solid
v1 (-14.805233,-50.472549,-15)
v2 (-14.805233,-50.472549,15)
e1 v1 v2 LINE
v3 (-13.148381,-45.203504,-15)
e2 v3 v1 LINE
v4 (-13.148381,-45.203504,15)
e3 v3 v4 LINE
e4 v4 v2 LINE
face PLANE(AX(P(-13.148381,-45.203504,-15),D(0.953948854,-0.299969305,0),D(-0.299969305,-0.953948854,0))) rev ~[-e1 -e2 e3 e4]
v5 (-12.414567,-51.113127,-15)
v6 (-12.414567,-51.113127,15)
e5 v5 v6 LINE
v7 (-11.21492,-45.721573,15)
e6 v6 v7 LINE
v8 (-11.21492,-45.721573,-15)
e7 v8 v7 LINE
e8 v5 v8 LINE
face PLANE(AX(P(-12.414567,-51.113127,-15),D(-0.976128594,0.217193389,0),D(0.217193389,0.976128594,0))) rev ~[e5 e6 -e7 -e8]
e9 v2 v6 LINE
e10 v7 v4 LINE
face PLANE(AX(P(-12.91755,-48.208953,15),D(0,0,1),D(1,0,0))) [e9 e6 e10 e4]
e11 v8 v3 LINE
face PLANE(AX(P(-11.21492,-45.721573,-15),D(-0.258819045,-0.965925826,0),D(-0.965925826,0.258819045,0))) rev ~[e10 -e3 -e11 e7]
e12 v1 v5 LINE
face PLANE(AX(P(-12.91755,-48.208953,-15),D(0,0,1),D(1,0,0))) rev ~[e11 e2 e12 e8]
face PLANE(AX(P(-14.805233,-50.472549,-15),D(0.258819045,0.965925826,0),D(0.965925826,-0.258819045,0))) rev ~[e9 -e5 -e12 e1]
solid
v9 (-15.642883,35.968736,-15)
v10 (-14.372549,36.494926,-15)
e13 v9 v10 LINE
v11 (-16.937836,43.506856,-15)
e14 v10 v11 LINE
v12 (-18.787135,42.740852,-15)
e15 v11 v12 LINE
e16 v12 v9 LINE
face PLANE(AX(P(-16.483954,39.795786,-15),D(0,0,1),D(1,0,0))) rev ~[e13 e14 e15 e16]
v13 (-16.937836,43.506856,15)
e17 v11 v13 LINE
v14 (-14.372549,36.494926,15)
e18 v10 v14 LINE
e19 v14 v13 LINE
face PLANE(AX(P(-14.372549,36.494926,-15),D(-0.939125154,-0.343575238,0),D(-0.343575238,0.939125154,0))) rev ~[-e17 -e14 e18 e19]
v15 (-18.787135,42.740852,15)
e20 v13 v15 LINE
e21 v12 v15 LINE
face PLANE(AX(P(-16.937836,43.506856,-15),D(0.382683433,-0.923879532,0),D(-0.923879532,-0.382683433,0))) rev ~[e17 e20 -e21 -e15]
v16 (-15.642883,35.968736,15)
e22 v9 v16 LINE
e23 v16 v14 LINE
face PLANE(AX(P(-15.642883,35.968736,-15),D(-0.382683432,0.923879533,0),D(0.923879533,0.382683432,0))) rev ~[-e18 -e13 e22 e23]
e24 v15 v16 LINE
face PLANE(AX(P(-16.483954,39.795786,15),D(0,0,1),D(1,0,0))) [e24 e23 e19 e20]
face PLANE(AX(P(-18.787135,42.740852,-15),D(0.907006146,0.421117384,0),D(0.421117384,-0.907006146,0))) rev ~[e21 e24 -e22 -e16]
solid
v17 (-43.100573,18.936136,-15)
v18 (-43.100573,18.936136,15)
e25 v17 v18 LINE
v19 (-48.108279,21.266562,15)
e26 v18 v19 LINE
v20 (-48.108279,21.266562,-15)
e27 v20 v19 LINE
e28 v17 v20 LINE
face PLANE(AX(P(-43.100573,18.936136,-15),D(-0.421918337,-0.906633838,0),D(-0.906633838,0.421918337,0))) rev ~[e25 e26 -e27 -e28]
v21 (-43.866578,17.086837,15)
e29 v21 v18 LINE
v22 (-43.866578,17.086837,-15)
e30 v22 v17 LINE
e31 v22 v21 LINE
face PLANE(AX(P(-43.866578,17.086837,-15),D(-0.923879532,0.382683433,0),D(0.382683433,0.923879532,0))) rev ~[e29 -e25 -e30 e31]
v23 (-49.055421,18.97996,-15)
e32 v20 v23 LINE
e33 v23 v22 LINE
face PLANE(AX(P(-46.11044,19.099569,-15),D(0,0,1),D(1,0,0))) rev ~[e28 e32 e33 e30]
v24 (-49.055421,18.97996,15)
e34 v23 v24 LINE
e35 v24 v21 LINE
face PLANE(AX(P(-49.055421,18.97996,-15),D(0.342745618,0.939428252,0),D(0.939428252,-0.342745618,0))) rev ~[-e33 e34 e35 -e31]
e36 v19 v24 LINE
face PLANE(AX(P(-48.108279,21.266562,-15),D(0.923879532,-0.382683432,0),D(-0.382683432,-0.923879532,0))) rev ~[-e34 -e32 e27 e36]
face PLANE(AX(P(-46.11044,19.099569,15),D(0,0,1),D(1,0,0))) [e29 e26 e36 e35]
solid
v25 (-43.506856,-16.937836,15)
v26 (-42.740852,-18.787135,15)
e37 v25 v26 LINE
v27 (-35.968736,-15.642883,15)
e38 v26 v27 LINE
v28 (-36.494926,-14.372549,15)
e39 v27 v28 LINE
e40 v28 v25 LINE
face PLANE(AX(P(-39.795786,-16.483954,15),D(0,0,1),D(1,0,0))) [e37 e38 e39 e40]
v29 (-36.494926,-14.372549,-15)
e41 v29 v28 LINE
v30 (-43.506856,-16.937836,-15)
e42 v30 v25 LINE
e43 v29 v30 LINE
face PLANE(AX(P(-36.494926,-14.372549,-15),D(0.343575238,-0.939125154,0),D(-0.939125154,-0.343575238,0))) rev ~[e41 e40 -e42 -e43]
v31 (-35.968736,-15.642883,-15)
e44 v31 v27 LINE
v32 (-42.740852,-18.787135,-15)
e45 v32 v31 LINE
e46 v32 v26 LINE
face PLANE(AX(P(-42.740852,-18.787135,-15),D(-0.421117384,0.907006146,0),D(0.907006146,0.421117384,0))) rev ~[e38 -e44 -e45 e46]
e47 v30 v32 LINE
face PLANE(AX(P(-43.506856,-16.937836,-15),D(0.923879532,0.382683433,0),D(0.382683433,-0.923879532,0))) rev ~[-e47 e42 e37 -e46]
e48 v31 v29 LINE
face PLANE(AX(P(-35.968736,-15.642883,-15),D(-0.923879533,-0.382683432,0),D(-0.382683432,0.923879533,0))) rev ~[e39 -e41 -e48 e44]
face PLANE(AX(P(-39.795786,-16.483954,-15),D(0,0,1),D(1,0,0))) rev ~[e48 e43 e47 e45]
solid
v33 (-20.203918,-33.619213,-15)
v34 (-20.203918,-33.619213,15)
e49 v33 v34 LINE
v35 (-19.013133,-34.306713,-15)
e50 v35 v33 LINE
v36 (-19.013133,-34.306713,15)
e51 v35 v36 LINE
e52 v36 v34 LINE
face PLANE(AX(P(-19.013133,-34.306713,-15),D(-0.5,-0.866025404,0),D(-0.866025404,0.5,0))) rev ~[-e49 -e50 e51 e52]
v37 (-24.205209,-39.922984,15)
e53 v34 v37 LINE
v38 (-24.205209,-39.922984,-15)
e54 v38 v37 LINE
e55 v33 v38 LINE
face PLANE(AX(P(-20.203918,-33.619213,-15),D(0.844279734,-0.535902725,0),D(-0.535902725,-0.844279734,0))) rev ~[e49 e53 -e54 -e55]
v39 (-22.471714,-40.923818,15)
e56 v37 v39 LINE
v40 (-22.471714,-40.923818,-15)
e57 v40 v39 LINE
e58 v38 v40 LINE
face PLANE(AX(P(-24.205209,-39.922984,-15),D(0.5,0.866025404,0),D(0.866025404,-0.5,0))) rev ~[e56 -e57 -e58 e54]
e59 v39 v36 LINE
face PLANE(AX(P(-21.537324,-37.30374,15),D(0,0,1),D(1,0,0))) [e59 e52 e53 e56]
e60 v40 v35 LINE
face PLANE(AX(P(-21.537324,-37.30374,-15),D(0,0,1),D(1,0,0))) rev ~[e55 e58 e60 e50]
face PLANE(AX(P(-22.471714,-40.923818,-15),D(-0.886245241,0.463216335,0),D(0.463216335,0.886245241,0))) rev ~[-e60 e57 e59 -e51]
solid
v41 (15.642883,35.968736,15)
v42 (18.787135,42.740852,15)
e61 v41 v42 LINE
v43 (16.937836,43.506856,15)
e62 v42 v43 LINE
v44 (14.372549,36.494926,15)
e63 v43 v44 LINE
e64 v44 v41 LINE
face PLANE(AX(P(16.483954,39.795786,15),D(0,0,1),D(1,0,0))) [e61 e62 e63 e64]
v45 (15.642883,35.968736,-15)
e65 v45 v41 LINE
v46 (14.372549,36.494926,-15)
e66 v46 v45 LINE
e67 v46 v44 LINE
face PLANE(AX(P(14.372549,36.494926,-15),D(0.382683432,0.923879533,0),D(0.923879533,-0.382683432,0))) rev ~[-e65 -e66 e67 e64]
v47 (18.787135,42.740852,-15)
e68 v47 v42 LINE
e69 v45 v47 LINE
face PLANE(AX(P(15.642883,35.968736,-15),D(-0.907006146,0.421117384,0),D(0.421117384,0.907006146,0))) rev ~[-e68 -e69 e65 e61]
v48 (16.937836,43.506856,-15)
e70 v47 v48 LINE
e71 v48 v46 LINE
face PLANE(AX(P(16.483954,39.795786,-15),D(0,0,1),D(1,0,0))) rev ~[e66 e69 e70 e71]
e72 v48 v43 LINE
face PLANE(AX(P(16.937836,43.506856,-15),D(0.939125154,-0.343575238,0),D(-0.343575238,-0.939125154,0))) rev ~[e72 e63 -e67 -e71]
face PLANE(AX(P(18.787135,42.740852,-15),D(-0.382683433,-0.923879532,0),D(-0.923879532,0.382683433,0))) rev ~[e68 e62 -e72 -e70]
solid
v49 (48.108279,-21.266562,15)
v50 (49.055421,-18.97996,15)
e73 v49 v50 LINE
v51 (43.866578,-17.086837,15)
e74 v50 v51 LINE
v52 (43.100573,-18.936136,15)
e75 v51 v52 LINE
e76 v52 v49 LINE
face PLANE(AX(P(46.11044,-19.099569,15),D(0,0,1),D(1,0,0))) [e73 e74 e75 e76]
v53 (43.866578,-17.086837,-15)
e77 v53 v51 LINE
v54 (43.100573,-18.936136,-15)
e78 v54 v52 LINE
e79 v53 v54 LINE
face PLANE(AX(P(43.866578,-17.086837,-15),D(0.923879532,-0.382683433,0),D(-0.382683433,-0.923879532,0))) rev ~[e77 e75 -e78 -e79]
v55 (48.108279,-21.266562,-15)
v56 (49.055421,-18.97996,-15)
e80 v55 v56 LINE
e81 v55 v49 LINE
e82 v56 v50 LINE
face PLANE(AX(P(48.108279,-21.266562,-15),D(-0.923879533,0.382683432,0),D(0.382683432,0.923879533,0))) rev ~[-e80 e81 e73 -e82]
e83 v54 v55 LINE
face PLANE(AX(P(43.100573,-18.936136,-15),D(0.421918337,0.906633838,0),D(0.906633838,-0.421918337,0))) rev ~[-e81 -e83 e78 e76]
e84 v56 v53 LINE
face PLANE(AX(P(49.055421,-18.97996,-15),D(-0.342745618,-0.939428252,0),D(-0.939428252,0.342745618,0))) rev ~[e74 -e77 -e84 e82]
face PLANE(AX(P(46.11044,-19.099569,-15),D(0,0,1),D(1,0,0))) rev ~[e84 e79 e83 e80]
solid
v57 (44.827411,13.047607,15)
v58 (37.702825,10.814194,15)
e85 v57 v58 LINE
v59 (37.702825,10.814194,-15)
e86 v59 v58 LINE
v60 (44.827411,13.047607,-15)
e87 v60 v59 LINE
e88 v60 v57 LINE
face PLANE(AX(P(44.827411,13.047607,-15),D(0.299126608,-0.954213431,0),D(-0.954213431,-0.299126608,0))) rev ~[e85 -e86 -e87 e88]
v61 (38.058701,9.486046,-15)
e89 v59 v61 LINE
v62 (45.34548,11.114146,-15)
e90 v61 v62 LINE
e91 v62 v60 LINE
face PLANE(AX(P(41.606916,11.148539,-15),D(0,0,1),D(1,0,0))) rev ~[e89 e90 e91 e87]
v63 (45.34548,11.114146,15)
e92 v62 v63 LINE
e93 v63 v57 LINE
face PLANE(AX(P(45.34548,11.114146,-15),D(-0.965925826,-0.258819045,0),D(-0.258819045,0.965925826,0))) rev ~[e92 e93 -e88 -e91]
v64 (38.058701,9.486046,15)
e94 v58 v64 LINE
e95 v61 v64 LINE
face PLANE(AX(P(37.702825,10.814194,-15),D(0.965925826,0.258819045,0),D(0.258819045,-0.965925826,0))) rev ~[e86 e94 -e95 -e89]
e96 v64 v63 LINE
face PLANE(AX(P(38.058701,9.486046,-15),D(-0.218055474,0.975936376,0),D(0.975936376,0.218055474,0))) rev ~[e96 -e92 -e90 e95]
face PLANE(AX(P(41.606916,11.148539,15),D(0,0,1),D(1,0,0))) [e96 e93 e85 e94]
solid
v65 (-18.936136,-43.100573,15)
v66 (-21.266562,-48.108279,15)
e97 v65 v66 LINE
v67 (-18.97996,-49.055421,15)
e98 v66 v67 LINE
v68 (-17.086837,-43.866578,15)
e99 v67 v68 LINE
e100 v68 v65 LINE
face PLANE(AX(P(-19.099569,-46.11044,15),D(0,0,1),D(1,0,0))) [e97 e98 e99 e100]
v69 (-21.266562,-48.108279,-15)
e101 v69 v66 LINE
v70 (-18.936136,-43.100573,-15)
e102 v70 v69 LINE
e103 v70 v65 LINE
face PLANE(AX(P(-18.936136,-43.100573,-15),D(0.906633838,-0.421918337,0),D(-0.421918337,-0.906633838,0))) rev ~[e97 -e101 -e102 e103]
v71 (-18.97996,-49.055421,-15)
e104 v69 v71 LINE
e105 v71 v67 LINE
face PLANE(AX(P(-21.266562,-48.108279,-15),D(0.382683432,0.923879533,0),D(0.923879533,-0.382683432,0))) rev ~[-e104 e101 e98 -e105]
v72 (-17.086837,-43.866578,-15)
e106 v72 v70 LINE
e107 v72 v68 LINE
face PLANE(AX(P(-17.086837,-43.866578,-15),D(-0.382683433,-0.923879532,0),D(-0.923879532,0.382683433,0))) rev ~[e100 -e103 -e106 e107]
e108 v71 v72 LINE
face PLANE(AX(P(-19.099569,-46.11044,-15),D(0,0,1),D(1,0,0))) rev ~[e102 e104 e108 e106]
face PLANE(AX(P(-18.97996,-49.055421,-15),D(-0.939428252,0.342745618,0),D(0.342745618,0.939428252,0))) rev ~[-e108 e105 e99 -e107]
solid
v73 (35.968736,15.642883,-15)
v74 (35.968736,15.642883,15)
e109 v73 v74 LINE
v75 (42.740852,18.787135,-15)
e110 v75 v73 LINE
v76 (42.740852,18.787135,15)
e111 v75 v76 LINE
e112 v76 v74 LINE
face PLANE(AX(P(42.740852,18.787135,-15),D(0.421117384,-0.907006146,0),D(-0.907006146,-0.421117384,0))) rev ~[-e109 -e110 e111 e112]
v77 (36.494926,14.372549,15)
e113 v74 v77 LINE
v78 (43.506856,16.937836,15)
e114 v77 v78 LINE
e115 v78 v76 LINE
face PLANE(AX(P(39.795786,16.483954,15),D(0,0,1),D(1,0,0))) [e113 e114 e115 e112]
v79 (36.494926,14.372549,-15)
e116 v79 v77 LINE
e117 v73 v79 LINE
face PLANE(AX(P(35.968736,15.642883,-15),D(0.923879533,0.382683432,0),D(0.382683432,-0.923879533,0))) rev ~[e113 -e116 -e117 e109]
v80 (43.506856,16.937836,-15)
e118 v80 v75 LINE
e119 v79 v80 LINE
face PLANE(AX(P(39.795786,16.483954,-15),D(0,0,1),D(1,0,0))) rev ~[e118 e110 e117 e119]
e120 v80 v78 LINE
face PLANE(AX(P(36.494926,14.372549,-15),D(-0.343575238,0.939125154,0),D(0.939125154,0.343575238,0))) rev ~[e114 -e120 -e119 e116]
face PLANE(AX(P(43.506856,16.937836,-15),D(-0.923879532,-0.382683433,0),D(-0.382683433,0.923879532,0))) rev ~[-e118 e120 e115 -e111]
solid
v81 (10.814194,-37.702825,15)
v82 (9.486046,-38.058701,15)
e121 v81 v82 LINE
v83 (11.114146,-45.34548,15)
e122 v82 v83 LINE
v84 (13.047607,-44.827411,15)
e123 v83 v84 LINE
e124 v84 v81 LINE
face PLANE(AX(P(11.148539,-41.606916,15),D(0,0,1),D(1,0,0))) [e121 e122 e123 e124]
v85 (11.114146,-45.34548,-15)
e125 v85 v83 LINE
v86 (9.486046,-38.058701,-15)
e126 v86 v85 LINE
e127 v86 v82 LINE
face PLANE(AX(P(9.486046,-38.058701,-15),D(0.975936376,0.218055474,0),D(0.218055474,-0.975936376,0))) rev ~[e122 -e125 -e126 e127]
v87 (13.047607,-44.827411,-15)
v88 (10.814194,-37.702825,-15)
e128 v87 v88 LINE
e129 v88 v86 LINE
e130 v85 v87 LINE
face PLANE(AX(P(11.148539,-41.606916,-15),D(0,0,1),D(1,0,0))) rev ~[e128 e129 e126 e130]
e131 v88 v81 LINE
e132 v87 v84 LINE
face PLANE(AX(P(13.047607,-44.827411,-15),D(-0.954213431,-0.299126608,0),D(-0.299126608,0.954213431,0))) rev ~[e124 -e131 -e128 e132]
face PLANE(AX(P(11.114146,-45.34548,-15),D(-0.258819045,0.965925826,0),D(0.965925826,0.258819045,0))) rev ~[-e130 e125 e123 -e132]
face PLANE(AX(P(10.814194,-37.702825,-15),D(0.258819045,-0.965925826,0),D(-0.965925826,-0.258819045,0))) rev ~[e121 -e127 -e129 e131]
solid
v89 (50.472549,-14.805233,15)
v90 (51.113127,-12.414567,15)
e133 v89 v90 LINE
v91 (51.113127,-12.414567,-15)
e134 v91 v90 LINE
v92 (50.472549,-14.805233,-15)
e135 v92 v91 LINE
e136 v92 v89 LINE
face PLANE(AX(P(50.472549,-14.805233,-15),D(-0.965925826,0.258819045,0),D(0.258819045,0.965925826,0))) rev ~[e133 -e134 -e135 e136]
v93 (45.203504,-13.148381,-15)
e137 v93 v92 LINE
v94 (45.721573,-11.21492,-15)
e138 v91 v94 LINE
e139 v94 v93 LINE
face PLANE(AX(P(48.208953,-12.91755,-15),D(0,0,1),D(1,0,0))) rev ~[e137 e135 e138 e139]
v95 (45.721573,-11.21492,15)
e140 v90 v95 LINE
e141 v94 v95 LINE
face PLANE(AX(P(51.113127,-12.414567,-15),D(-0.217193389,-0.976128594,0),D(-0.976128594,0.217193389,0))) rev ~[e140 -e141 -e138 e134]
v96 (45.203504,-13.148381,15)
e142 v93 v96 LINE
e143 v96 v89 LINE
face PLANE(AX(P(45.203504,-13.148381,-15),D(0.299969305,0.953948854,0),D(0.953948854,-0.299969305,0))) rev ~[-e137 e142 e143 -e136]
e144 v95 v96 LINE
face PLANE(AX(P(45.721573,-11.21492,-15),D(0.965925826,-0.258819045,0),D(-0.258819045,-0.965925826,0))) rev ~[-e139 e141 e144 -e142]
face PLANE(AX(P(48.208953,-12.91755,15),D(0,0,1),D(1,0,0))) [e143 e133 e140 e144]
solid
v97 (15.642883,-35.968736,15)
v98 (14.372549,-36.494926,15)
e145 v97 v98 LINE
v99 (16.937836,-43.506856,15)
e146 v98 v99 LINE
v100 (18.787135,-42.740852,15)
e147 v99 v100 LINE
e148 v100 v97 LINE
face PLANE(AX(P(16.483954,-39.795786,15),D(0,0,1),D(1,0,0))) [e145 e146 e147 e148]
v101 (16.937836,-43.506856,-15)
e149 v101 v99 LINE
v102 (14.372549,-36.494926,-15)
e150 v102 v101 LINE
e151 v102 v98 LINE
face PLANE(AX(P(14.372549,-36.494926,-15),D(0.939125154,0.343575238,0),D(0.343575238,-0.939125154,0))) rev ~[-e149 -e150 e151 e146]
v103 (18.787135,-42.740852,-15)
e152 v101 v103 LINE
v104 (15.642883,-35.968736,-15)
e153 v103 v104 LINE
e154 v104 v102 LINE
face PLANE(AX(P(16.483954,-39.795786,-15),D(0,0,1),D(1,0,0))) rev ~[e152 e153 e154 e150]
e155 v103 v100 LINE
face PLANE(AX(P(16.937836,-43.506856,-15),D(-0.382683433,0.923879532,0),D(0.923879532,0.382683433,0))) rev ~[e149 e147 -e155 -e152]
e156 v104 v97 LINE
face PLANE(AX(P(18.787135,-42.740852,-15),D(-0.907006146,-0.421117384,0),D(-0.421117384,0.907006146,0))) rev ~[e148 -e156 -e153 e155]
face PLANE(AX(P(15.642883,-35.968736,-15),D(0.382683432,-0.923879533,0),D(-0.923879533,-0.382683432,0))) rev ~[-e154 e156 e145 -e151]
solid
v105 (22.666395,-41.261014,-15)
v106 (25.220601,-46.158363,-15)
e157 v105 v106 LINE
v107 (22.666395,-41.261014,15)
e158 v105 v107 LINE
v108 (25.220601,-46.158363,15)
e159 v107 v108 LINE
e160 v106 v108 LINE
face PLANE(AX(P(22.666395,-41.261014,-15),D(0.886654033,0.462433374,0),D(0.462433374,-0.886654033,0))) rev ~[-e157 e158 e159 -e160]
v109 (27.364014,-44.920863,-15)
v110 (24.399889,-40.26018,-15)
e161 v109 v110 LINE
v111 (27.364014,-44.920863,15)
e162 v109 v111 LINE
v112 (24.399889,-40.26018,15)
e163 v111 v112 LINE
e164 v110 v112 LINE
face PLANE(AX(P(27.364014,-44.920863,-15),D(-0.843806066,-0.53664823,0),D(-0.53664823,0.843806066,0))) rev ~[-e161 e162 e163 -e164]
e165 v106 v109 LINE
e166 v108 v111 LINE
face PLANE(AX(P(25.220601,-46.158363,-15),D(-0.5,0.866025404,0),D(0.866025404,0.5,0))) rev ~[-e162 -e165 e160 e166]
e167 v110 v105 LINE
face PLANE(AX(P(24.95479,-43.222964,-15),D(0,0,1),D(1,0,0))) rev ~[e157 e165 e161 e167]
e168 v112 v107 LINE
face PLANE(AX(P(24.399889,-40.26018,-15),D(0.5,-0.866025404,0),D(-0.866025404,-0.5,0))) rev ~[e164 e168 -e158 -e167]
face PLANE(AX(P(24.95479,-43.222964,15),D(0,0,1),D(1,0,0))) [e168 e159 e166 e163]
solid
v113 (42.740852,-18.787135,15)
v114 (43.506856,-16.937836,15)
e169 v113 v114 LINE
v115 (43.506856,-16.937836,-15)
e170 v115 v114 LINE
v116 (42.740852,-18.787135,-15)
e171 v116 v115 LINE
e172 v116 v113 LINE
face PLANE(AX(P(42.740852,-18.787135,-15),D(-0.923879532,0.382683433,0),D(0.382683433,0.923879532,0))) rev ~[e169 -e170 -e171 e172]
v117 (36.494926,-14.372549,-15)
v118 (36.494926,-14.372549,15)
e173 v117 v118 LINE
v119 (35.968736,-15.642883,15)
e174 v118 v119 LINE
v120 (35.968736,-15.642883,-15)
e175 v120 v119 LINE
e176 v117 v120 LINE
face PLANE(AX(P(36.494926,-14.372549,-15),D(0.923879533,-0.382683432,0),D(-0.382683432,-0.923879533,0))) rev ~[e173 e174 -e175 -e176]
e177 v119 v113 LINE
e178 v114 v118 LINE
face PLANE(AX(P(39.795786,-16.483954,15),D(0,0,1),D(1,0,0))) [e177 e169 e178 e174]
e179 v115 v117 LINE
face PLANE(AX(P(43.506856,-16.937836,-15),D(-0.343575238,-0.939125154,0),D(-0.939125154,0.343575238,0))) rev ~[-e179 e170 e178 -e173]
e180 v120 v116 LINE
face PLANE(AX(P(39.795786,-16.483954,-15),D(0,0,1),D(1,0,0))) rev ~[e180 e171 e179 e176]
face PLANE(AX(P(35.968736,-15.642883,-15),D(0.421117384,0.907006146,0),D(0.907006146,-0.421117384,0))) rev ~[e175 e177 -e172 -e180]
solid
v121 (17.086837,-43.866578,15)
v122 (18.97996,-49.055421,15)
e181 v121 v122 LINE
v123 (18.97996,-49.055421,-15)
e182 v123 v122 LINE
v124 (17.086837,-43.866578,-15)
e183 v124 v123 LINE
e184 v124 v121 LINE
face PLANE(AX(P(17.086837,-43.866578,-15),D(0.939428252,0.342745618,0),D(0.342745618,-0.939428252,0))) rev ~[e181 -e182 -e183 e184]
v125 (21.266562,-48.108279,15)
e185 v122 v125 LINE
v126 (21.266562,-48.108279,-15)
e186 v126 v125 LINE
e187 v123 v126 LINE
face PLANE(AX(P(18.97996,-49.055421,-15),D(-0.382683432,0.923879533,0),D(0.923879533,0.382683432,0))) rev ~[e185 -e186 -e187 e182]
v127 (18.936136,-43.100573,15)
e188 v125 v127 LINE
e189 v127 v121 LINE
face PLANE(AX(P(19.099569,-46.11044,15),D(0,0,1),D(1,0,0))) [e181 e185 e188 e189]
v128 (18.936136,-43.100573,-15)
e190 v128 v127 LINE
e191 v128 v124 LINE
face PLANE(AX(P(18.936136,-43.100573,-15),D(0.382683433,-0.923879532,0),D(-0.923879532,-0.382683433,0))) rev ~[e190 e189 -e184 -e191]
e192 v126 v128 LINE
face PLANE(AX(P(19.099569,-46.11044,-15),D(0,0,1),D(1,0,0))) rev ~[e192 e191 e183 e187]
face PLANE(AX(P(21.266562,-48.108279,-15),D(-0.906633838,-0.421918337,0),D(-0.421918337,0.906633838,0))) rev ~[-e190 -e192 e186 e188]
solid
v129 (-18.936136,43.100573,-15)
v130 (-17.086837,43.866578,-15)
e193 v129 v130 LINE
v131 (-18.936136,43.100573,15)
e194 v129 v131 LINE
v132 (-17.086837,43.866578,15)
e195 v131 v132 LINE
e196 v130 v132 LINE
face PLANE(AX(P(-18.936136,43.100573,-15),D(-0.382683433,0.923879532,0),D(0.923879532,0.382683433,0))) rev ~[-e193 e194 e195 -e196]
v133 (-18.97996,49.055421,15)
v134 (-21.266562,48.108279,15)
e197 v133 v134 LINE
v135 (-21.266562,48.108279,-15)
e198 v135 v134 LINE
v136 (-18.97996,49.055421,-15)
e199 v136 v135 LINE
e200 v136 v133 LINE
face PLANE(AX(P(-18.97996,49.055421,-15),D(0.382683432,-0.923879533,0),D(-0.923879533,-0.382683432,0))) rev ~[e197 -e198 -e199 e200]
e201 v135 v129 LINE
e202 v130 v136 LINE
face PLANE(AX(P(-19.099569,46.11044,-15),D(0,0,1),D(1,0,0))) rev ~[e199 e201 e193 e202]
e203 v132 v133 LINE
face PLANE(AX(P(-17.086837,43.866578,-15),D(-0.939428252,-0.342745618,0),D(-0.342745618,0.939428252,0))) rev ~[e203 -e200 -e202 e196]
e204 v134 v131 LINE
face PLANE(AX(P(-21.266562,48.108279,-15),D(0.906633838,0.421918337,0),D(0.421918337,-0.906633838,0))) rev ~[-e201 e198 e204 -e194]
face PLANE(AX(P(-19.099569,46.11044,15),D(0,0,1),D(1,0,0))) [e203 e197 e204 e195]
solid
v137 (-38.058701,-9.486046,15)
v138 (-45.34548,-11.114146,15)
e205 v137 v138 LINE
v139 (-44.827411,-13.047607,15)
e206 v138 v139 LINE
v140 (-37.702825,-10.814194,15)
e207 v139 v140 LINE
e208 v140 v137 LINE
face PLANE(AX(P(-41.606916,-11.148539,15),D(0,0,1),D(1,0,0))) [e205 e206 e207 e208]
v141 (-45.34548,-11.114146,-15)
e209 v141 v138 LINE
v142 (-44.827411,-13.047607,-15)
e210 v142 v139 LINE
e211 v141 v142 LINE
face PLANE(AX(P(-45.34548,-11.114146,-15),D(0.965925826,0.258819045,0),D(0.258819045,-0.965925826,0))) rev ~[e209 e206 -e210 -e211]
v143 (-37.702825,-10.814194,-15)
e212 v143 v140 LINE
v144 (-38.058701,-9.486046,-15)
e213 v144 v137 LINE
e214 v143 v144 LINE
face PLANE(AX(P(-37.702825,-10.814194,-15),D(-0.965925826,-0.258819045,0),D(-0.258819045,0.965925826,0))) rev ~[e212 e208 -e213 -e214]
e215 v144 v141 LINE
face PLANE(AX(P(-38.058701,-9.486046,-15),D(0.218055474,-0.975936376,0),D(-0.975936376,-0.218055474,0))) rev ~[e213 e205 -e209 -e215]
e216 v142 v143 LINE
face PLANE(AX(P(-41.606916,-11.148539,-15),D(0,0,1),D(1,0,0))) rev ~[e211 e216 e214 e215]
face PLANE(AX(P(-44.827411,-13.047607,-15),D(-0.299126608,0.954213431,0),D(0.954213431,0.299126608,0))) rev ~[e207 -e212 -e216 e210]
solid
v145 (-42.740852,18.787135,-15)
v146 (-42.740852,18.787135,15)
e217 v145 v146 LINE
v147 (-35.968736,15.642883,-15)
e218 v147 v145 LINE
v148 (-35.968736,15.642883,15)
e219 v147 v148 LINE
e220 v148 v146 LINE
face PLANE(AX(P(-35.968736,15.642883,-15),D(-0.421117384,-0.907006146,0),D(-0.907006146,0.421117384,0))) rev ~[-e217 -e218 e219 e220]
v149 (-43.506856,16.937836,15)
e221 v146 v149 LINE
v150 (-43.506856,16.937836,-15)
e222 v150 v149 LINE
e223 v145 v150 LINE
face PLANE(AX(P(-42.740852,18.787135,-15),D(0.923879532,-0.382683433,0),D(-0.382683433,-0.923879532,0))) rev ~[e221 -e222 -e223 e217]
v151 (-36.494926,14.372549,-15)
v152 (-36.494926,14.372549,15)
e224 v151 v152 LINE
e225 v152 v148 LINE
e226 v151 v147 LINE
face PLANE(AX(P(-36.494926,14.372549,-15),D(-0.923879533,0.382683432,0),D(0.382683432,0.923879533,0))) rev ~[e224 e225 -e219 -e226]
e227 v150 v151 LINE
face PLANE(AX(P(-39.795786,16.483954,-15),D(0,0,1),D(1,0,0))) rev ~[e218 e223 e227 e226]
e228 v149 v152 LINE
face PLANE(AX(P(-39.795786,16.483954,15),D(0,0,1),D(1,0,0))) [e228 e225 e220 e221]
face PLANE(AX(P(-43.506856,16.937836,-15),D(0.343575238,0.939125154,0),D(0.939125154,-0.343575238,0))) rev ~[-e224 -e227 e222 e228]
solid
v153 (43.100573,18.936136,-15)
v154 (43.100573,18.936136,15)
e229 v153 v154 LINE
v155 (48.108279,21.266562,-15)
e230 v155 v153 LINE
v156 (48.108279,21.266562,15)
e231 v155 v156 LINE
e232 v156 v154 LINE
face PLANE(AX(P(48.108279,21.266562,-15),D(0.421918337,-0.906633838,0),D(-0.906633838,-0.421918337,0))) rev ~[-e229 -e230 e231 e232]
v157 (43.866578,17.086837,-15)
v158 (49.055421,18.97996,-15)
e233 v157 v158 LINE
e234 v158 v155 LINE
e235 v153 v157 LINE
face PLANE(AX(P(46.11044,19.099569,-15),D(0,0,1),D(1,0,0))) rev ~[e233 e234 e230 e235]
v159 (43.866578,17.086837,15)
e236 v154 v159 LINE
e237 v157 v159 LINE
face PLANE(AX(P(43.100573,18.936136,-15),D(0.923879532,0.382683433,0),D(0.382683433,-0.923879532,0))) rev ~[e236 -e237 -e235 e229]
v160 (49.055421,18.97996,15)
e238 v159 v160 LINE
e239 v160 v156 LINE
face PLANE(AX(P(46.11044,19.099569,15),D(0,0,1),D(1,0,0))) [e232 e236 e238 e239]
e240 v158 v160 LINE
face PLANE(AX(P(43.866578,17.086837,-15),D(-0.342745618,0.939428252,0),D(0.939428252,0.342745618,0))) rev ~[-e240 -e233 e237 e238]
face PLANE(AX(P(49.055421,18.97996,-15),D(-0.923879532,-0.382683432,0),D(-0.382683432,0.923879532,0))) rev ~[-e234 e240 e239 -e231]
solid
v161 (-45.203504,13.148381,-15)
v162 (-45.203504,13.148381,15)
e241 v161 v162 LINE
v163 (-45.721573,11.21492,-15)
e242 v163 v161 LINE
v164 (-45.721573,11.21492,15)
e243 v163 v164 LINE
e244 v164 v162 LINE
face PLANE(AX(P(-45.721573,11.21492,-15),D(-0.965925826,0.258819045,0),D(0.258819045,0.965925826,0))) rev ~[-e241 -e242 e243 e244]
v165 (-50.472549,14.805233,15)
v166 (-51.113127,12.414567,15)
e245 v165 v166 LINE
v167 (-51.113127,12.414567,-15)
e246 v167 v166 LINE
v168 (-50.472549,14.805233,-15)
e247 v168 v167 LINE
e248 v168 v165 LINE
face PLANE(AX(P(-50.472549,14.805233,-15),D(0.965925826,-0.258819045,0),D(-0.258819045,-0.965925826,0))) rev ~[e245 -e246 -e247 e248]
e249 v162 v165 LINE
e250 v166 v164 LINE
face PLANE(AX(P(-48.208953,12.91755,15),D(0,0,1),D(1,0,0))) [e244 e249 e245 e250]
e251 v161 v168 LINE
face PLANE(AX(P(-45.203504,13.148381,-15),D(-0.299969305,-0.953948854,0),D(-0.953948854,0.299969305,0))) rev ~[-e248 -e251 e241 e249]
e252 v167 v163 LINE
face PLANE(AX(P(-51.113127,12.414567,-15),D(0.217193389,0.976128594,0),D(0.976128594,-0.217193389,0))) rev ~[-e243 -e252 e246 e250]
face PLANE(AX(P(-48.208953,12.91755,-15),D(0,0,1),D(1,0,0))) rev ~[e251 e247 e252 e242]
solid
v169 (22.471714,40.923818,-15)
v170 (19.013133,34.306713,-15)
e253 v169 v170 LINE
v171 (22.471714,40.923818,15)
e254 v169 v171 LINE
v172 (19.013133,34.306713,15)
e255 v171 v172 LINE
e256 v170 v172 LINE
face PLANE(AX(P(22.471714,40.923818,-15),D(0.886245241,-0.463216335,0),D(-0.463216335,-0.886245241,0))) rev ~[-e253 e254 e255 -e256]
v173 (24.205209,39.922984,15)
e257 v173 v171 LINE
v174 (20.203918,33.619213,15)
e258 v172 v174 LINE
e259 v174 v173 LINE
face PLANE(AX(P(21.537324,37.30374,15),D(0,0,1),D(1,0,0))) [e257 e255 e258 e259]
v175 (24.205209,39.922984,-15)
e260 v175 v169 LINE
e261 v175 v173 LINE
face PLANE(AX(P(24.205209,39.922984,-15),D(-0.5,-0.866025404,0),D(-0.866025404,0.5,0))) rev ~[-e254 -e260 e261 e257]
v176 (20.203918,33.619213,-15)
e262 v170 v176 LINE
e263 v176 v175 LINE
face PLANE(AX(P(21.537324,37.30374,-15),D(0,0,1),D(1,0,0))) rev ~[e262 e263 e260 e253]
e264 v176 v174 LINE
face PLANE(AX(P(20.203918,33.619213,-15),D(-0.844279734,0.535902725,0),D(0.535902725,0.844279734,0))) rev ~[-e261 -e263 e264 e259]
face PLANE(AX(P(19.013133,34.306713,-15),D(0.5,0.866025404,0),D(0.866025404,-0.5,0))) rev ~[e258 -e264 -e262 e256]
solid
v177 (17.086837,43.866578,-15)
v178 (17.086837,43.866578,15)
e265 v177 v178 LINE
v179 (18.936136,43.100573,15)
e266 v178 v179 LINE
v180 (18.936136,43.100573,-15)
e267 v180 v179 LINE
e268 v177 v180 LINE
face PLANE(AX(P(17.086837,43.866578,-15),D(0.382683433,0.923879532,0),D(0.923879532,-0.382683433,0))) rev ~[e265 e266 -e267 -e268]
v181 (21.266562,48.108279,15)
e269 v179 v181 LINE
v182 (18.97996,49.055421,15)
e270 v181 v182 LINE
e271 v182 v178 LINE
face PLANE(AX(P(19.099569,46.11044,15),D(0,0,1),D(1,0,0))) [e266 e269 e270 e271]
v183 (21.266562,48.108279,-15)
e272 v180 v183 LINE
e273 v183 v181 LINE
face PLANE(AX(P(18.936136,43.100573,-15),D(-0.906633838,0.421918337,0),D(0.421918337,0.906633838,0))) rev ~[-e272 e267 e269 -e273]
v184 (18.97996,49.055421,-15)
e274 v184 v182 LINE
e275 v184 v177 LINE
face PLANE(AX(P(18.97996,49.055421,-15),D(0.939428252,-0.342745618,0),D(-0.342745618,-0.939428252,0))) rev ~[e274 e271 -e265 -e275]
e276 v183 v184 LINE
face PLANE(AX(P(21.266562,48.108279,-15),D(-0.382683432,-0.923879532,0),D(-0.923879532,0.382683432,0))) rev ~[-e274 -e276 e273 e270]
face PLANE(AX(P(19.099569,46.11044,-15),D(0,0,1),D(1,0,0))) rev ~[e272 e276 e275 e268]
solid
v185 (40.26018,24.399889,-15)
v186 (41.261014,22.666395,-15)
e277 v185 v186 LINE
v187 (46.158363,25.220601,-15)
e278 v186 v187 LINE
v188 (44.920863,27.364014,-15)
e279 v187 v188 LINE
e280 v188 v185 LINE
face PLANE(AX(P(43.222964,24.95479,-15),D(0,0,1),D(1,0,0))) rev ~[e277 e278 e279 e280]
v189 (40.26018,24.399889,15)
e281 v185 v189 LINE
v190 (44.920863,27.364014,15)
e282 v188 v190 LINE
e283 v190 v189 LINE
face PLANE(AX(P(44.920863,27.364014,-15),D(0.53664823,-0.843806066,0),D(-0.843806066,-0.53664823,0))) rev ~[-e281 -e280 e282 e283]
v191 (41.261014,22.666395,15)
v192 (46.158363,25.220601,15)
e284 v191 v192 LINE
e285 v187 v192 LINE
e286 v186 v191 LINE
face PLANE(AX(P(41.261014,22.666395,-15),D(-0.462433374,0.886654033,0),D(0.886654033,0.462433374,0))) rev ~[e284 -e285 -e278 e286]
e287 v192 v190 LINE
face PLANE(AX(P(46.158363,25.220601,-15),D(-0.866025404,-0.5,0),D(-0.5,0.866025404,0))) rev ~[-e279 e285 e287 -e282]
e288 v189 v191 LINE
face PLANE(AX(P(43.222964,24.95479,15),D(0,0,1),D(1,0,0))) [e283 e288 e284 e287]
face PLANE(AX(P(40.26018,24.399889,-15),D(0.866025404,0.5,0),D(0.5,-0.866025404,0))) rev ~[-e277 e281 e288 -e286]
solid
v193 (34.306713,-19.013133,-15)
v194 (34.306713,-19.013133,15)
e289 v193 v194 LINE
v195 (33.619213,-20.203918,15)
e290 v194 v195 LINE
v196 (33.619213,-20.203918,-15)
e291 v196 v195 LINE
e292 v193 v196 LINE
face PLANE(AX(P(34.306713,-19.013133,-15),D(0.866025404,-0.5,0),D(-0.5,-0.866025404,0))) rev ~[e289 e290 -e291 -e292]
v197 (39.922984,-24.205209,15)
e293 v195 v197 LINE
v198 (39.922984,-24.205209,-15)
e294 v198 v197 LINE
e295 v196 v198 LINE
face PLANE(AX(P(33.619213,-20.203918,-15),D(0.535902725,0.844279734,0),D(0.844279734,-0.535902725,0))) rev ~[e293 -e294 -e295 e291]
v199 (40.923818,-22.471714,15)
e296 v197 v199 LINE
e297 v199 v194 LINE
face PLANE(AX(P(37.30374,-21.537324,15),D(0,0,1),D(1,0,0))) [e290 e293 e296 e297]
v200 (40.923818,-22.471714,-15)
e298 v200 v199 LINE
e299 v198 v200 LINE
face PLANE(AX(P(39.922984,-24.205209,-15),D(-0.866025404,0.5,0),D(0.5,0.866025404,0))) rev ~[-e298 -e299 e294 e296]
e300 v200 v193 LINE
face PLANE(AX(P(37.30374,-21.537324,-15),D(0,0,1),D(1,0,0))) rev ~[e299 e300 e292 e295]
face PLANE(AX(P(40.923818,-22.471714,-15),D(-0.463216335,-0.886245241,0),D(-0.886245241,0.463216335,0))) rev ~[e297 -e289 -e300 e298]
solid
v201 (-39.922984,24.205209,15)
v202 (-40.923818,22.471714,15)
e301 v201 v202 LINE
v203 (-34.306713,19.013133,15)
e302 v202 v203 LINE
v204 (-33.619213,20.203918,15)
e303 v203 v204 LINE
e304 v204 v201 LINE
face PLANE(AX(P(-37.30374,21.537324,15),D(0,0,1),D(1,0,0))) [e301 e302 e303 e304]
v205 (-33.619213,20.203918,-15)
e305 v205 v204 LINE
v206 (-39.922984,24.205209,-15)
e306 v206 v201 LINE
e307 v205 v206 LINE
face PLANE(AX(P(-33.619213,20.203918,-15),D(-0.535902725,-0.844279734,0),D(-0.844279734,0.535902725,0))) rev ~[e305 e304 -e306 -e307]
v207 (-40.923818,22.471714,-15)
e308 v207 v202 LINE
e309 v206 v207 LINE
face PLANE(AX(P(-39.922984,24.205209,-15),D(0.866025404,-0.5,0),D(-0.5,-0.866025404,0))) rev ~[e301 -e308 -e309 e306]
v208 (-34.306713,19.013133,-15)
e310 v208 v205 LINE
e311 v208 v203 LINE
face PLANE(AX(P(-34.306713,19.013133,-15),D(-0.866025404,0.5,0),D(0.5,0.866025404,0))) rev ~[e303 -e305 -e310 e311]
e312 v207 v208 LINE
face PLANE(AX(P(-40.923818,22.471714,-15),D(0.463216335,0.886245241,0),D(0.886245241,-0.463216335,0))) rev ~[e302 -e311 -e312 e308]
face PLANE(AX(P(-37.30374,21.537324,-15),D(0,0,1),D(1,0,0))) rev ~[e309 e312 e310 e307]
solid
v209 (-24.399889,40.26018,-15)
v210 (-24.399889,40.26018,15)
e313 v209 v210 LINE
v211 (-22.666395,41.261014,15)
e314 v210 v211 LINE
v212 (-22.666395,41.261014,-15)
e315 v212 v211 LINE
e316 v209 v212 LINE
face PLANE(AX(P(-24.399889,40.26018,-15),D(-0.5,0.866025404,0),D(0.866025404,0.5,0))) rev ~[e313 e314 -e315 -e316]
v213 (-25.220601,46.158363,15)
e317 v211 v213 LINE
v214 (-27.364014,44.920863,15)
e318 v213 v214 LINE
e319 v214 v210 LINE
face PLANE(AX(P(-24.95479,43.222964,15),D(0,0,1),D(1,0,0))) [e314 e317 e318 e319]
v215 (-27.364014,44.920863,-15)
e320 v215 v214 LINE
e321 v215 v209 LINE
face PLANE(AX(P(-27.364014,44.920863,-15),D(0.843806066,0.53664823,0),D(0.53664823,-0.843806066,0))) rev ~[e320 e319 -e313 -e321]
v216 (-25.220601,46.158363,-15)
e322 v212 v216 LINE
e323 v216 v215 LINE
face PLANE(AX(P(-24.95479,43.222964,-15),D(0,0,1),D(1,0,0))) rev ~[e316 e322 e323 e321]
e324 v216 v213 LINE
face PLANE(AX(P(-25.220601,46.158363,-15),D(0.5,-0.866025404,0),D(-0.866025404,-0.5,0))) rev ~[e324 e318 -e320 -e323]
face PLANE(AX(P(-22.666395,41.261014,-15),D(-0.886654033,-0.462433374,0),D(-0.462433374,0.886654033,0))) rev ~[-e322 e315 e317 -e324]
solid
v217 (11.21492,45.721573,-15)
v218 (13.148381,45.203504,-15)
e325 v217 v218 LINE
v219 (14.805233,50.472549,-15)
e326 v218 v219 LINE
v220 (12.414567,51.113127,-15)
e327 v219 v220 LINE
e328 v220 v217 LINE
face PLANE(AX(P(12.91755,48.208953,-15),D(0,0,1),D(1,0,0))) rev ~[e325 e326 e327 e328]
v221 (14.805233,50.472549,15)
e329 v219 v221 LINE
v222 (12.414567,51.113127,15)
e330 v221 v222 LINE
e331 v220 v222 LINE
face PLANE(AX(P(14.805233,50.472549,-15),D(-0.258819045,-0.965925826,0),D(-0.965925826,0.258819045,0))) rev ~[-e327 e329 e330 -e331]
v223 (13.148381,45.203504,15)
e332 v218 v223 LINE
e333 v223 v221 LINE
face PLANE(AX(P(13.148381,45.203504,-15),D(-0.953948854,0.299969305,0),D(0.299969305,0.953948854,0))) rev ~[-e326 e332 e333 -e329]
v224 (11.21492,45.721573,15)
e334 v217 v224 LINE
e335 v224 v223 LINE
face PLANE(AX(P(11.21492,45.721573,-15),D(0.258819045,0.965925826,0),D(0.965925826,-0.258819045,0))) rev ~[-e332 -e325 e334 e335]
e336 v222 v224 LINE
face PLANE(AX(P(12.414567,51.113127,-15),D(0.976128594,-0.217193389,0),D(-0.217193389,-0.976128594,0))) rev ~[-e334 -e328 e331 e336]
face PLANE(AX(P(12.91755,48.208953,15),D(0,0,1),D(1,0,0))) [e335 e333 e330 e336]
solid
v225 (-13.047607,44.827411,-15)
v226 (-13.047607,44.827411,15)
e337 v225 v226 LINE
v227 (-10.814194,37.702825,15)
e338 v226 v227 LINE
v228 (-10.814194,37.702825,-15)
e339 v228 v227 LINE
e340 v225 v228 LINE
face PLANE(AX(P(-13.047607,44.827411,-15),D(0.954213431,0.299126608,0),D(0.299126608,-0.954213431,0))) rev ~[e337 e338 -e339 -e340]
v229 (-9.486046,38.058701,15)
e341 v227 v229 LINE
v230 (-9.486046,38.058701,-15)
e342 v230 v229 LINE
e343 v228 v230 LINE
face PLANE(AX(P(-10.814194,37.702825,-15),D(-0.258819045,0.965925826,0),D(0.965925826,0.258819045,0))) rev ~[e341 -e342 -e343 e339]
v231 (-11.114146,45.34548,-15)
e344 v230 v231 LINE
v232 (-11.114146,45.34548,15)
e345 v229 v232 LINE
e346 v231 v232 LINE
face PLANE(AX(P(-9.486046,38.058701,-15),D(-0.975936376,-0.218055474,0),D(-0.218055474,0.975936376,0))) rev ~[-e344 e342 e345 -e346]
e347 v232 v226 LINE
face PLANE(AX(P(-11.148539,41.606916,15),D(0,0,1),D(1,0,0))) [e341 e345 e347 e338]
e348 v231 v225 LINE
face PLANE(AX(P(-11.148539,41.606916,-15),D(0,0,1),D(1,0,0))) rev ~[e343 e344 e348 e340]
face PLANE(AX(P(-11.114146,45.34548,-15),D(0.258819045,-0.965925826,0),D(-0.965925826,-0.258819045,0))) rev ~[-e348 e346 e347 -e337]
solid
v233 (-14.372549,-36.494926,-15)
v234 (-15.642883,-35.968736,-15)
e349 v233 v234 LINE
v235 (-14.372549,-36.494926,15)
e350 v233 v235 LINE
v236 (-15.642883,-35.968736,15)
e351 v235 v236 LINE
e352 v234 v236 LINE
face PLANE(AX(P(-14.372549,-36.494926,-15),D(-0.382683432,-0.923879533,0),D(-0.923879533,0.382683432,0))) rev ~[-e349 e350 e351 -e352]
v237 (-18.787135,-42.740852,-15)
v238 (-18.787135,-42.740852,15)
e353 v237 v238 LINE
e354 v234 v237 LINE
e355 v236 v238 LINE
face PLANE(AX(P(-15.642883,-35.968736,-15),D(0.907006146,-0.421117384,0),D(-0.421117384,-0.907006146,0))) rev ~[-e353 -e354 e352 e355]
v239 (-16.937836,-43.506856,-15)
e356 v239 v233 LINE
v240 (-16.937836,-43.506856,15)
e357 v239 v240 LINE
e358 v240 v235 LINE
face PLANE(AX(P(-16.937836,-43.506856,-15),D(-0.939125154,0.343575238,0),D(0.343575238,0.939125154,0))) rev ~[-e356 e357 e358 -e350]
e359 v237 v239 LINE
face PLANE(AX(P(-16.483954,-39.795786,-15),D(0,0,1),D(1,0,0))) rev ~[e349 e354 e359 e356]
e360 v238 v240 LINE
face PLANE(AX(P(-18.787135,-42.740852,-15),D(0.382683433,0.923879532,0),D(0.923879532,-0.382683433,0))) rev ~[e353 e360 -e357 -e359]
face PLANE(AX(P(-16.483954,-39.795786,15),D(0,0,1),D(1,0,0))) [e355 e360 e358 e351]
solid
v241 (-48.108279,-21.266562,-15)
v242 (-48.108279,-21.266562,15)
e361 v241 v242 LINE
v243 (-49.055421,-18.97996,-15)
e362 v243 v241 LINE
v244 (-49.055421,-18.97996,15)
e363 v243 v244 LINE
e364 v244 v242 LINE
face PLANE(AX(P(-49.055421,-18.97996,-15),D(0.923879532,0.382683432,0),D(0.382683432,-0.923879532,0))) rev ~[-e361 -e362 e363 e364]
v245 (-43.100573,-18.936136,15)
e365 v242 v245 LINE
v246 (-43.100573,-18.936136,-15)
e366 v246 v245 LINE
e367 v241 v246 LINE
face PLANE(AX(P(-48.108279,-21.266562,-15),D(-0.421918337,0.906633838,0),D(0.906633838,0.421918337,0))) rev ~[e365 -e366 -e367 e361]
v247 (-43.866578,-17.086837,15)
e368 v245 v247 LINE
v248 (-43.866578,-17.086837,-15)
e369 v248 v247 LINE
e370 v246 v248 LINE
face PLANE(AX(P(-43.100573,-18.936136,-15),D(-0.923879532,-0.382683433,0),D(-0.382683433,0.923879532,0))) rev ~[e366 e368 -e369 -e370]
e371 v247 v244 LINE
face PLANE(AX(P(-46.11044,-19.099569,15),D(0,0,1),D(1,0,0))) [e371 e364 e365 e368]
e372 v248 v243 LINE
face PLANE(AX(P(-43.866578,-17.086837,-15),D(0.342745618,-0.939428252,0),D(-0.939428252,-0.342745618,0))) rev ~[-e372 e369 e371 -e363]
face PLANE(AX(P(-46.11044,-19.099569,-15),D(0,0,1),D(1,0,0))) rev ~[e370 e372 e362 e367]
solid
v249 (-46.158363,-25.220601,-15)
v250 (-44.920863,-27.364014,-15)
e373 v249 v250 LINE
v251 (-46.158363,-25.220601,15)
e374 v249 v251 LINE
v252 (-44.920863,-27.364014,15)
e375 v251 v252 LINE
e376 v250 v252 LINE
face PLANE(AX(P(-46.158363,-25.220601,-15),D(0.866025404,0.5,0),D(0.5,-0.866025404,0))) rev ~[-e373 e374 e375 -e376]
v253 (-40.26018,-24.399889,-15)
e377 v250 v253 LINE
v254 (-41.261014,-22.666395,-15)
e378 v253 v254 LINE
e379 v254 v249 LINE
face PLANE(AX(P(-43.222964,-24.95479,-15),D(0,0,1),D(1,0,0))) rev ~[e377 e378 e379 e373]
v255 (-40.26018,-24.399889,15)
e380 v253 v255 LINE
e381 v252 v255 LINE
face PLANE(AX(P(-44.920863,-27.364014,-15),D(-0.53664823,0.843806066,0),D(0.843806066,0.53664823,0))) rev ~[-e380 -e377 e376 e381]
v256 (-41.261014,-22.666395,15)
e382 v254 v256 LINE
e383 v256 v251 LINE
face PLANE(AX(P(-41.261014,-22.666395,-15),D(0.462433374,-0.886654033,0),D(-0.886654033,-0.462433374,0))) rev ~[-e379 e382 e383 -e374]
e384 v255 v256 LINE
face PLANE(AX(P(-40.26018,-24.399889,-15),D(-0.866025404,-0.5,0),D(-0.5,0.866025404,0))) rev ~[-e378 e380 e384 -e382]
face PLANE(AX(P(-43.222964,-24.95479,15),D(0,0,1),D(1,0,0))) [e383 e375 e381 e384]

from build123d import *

# Parameters (mm, degrees)
SLOT_COPPER_ENVELOPES_START    = -15
SLOT_COPPER_ENVELOPES_DEPTH    = 30
SLOT_COPPER_ENVELOPES_2_DEPTH  = 30
SLOT_COPPER_ENVELOPES_3_DEPTH  = 30
SLOT_COPPER_ENVELOPES_4_DEPTH  = 30
SLOT_COPPER_ENVELOPES_5_DEPTH  = 30
SLOT_COPPER_ENVELOPES_6_DEPTH  = 30
SLOT_COPPER_ENVELOPES_7_DEPTH  = 30
SLOT_COPPER_ENVELOPES_8_DEPTH  = 30
SLOT_COPPER_ENVELOPES_9_DEPTH  = 30
SLOT_COPPER_ENVELOPES_10_DEPTH = 30
SLOT_COPPER_ENVELOPES_11_DEPTH = 30
SLOT_COPPER_ENVELOPES_12_DEPTH = 30
SLOT_COPPER_ENVELOPES_13_DEPTH = 30
SLOT_COPPER_ENVELOPES_14_DEPTH = 30
SLOT_COPPER_ENVELOPES_15_DEPTH = 30
SLOT_COPPER_ENVELOPES_16_DEPTH = 30
SLOT_COPPER_ENVELOPES_17_DEPTH = 30
SLOT_COPPER_ENVELOPES_18_DEPTH = 30
SLOT_COPPER_ENVELOPES_19_DEPTH = 30
SLOT_COPPER_ENVELOPES_20_DEPTH = 30
SLOT_COPPER_ENVELOPES_21_DEPTH = 30
SLOT_COPPER_ENVELOPES_22_DEPTH = 30
SLOT_COPPER_ENVELOPES_23_DEPTH = 30
SLOT_COPPER_ENVELOPES_24_DEPTH = 30
SLOT_COPPER_ENVELOPES_25_DEPTH = 30
SLOT_COPPER_ENVELOPES_26_DEPTH = 30
SLOT_COPPER_ENVELOPES_27_DEPTH = 30
SLOT_COPPER_ENVELOPES_28_DEPTH = 30
SLOT_COPPER_ENVELOPES_29_DEPTH = 30
SLOT_COPPER_ENVELOPES_30_DEPTH = 30
SLOT_COPPER_ENVELOPES_31_DEPTH = 30
SLOT_COPPER_ENVELOPES_32_DEPTH = 30


with BuildPart() as part:
    # Эскиз1 → Slot_copper_envelopes (new body)
    with BuildSketch(Plane.XY.offset(SLOT_COPPER_ENVELOPES_START)):
        Polygon((38.058700706, 9.486045745), (45.345480219, 11.114145895), (44.827410764, 13.047607424), (37.702824519, 10.814193756), align=None)
    extrude(amount=SLOT_COPPER_ENVELOPES_DEPTH)


with BuildPart() as body_2:
    # Эскиз1 → Slot_copper_envelopes 2 (new body)
    with BuildSketch(Plane.XY.offset(SLOT_COPPER_ENVELOPES_START)):
        Polygon((43.866578102, 17.086837391), (49.055420626, 18.979960184), (48.108279131, 21.266562026), (43.100573431, 18.936136255), align=None)
    extrude(amount=SLOT_COPPER_ENVELOPES_2_DEPTH)


with BuildPart() as body_3:
    # Эскиз1 → Slot_copper_envelopes 3 (new body)
    with BuildSketch(Plane.XY.offset(SLOT_COPPER_ENVELOPES_START)):
        Polygon((36.494925815, 14.372548593), (43.506856207, 16.937835703), (42.740851536, 18.787134567), (35.968736096, 15.64288295), align=None)
    extrude(amount=SLOT_COPPER_ENVELOPES_3_DEPTH)


with BuildPart() as body_4:
    # Эскиз1 → Slot_copper_envelopes 4 (new body)
    with BuildSketch(Plane.XY.offset(SLOT_COPPER_ENVELOPES_START)):
        Polygon((41.261013623, 22.666394534), (46.158362771, 25.220601255), (44.920862771, 27.364014129), (40.26018029, 24.399888717), align=None)
    extrude(amount=SLOT_COPPER_ENVELOPES_4_DEPTH)


with BuildPart() as body_5:
    # Эскиз1 → Slot_copper_envelopes 5 (new body)
    with BuildSketch(Plane.XY.offset(SLOT_COPPER_ENVELOPES_START)):
        Polygon((20.203918079, 33.619212625), (24.20520863, 39.922984488), (22.471714447, 40.923817822), (19.013133149, 34.306712625), align=None)
    extrude(amount=SLOT_COPPER_ENVELOPES_5_DEPTH)


with BuildPart() as body_6:
    # Эскиз1 → Slot_copper_envelopes 6 (new body)
    with BuildSketch(Plane.XY.offset(SLOT_COPPER_ENVELOPES_START)):
        Polygon((18.936136255, 43.100573431), (21.266562026, 48.108279131), (18.979960184, 49.055420626), (17.086837391, 43.866578102), align=None)
    extrude(amount=SLOT_COPPER_ENVELOPES_6_DEPTH)


with BuildPart() as body_7:
    # Эскиз1 → Slot_copper_envelopes 7 (new body)
    with BuildSketch(Plane.XY.offset(SLOT_COPPER_ENVELOPES_START)):
        Polygon((15.64288295, 35.968736096), (18.787134567, 42.740851536), (16.937835703, 43.506856207), (14.372548593, 36.494925815), align=None)
    extrude(amount=SLOT_COPPER_ENVELOPES_7_DEPTH)


with BuildPart() as body_8:
    # Эскиз1 → Slot_copper_envelopes 8 (new body)
    with BuildSketch(Plane.XY.offset(SLOT_COPPER_ENVELOPES_START)):
        Polygon((13.148381252, 45.203503812), (14.805233151, 50.472549497), (12.414566731, 51.113126634), (11.214919723, 45.721573267), align=None)
    extrude(amount=SLOT_COPPER_ENVELOPES_8_DEPTH)


with BuildPart() as body_9:
    # Эскиз1 → Slot_copper_envelopes 9 (new body)
    with BuildSketch(Plane.XY.offset(SLOT_COPPER_ENVELOPES_START)):
        Polygon((-9.486045745, 38.058700706), (-11.114145895, 45.345480219), (-13.047607424, 44.827410764), (-10.814193756, 37.702824519), align=None)
    extrude(amount=SLOT_COPPER_ENVELOPES_9_DEPTH)


with BuildPart() as body_10:
    # Эскиз1 → Slot_copper_envelopes 10 (new body)
    with BuildSketch(Plane.XY.offset(SLOT_COPPER_ENVELOPES_START)):
        Polygon((-17.086837391, 43.866578102), (-18.979960183, 49.055420626), (-21.266562026, 48.108279131), (-18.936136255, 43.100573431), align=None)
    extrude(amount=SLOT_COPPER_ENVELOPES_10_DEPTH)


with BuildPart() as body_11:
    # Эскиз1 → Slot_copper_envelopes 11 (new body)
    with BuildSketch(Plane.XY.offset(SLOT_COPPER_ENVELOPES_START)):
        Polygon((-14.372548593, 36.494925815), (-16.937835703, 43.506856207), (-18.787134567, 42.740851536), (-15.64288295, 35.968736096), align=None)
    extrude(amount=SLOT_COPPER_ENVELOPES_11_DEPTH)


with BuildPart() as body_12:
    # Эскиз1 → Slot_copper_envelopes 12 (new body)
    with BuildSketch(Plane.XY.offset(SLOT_COPPER_ENVELOPES_START)):
        Polygon((-22.666394534, 41.261013623), (-25.220601255, 46.158362771), (-27.364014129, 44.920862771), (-24.399888717, 40.26018029), align=None)
    extrude(amount=SLOT_COPPER_ENVELOPES_12_DEPTH)


with BuildPart() as body_13:
    # Эскиз1 → Slot_copper_envelopes 13 (new body)
    with BuildSketch(Plane.XY.offset(SLOT_COPPER_ENVELOPES_START)):
        Polygon((-33.619212625, 20.203918079), (-39.922984488, 24.20520863), (-40.923817822, 22.471714447), (-34.306712625, 19.013133149), align=None)
    extrude(amount=SLOT_COPPER_ENVELOPES_13_DEPTH)


with BuildPart() as body_14:
    # Эскиз1 → Slot_copper_envelopes 14 (new body)
    with BuildSketch(Plane.XY.offset(SLOT_COPPER_ENVELOPES_START)):
        Polygon((-43.100573431, 18.936136255), (-48.108279131, 21.266562026), (-49.055420626, 18.979960184), (-43.866578102, 17.086837391), align=None)
    extrude(amount=SLOT_COPPER_ENVELOPES_14_DEPTH)


with BuildPart() as body_15:
    # Эскиз1 → Slot_copper_envelopes 15 (new body)
    with BuildSketch(Plane.XY.offset(SLOT_COPPER_ENVELOPES_START)):
        Polygon((-35.968736096, 15.64288295), (-42.740851536, 18.787134567), (-43.506856207, 16.937835703), (-36.494925815, 14.372548593), align=None)
    extrude(amount=SLOT_COPPER_ENVELOPES_15_DEPTH)


with BuildPart() as body_16:
    # Эскиз1 → Slot_copper_envelopes 16 (new body)
    with BuildSketch(Plane.XY.offset(SLOT_COPPER_ENVELOPES_START)):
        Polygon((-45.203503812, 13.148381252), (-50.472549497, 14.805233151), (-51.113126634, 12.414566731), (-45.721573267, 11.214919723), align=None)
    extrude(amount=SLOT_COPPER_ENVELOPES_16_DEPTH)


with BuildPart() as body_17:
    # Эскиз1 → Slot_copper_envelopes 17 (new body)
    with BuildSketch(Plane.XY.offset(SLOT_COPPER_ENVELOPES_START)):
        Polygon((-38.058700706, -9.486045745), (-45.345480219, -11.114145895), (-44.827410764, -13.047607424), (-37.702824519, -10.814193756), align=None)
    extrude(amount=SLOT_COPPER_ENVELOPES_17_DEPTH)


with BuildPart() as body_18:
    # Эскиз1 → Slot_copper_envelopes 18 (new body)
    with BuildSketch(Plane.XY.offset(SLOT_COPPER_ENVELOPES_START)):
        Polygon((-43.866578102, -17.086837391), (-49.055420626, -18.979960184), (-48.108279131, -21.266562026), (-43.100573431, -18.936136255), align=None)
    extrude(amount=SLOT_COPPER_ENVELOPES_18_DEPTH)


with BuildPart() as body_19:
    # Эскиз1 → Slot_copper_envelopes 19 (new body)
    with BuildSketch(Plane.XY.offset(SLOT_COPPER_ENVELOPES_START)):
        Polygon((-36.494925815, -14.372548593), (-43.506856207, -16.937835703), (-42.740851536, -18.787134567), (-35.968736096, -15.64288295), align=None)
    extrude(amount=SLOT_COPPER_ENVELOPES_19_DEPTH)


with BuildPart() as body_20:
    # Эскиз1 → Slot_copper_envelopes 20 (new body)
    with BuildSketch(Plane.XY.offset(SLOT_COPPER_ENVELOPES_START)):
        Polygon((-41.261013623, -22.666394534), (-46.158362771, -25.220601255), (-44.920862771, -27.364014129), (-40.26018029, -24.399888717), align=None)
    extrude(amount=SLOT_COPPER_ENVELOPES_20_DEPTH)


with BuildPart() as body_21:
    # Эскиз1 → Slot_copper_envelopes 21 (new body)
    with BuildSketch(Plane.XY.offset(SLOT_COPPER_ENVELOPES_START)):
        Polygon((-20.203918079, -33.619212625), (-24.20520863, -39.922984488), (-22.471714447, -40.923817822), (-19.013133149, -34.306712625), align=None)
    extrude(amount=SLOT_COPPER_ENVELOPES_21_DEPTH)


with BuildPart() as body_22:
    # Эскиз1 → Slot_copper_envelopes 22 (new body)
    with BuildSketch(Plane.XY.offset(SLOT_COPPER_ENVELOPES_START)):
        Polygon((-18.936136255, -43.100573431), (-21.266562026, -48.108279131), (-18.979960183, -49.055420626), (-17.086837391, -43.866578102), align=None)
    extrude(amount=SLOT_COPPER_ENVELOPES_22_DEPTH)


with BuildPart() as body_23:
    # Эскиз1 → Slot_copper_envelopes 23 (new body)
    with BuildSketch(Plane.XY.offset(SLOT_COPPER_ENVELOPES_START)):
        Polygon((-15.64288295, -35.968736096), (-18.787134567, -42.740851536), (-16.937835703, -43.506856207), (-14.372548593, -36.494925815), align=None)
    extrude(amount=SLOT_COPPER_ENVELOPES_23_DEPTH)


with BuildPart() as body_24:
    # Эскиз1 → Slot_copper_envelopes 24 (new body)
    with BuildSketch(Plane.XY.offset(SLOT_COPPER_ENVELOPES_START)):
        Polygon((-13.148381252, -45.203503812), (-14.805233151, -50.472549497), (-12.414566731, -51.113126634), (-11.214919723, -45.721573267), align=None)
    extrude(amount=SLOT_COPPER_ENVELOPES_24_DEPTH)


with BuildPart() as body_25:
    # Эскиз1 → Slot_copper_envelopes 25 (new body)
    with BuildSketch(Plane.XY.offset(SLOT_COPPER_ENVELOPES_START)):
        Polygon((9.486045745, -38.058700706), (11.114145895, -45.345480219), (13.047607424, -44.827410764), (10.814193756, -37.702824519), align=None)
    extrude(amount=SLOT_COPPER_ENVELOPES_25_DEPTH)


with BuildPart() as body_26:
    # Эскиз1 → Slot_copper_envelopes 26 (new body)
    with BuildSketch(Plane.XY.offset(SLOT_COPPER_ENVELOPES_START)):
        Polygon((17.086837391, -43.866578102), (18.979960183, -49.055420626), (21.266562026, -48.108279131), (18.936136255, -43.100573431), align=None)
    extrude(amount=SLOT_COPPER_ENVELOPES_26_DEPTH)


with BuildPart() as body_27:
    # Эскиз1 → Slot_copper_envelopes 27 (new body)
    with BuildSketch(Plane.XY.offset(SLOT_COPPER_ENVELOPES_START)):
        Polygon((14.372548593, -36.494925815), (16.937835703, -43.506856207), (18.787134567, -42.740851536), (15.64288295, -35.968736096), align=None)
    extrude(amount=SLOT_COPPER_ENVELOPES_27_DEPTH)


with BuildPart() as body_28:
    # Эскиз1 → Slot_copper_envelopes 28 (new body)
    with BuildSketch(Plane.XY.offset(SLOT_COPPER_ENVELOPES_START)):
        Polygon((22.666394534, -41.261013623), (25.220601255, -46.158362771), (27.364014129, -44.920862771), (24.399888717, -40.26018029), align=None)
    extrude(amount=SLOT_COPPER_ENVELOPES_28_DEPTH)


with BuildPart() as body_29:
    # Эскиз1 → Slot_copper_envelopes 29 (new body)
    with BuildSketch(Plane.XY.offset(SLOT_COPPER_ENVELOPES_START)):
        Polygon((33.619212625, -20.203918079), (39.922984488, -24.20520863), (40.923817822, -22.471714447), (34.306712625, -19.013133149), align=None)
    extrude(amount=SLOT_COPPER_ENVELOPES_29_DEPTH)


with BuildPart() as body_30:
    # Эскиз1 → Slot_copper_envelopes 30 (new body)
    with BuildSketch(Plane.XY.offset(SLOT_COPPER_ENVELOPES_START)):
        Polygon((43.100573431, -18.936136255), (48.108279131, -21.266562026), (49.055420626, -18.979960183), (43.866578102, -17.086837391), align=None)
    extrude(amount=SLOT_COPPER_ENVELOPES_30_DEPTH)


with BuildPart() as body_31:
    # Эскиз1 → Slot_copper_envelopes 31 (new body)
    with BuildSketch(Plane.XY.offset(SLOT_COPPER_ENVELOPES_START)):
        Polygon((35.968736096, -15.64288295), (42.740851536, -18.787134567), (43.506856207, -16.937835703), (36.494925815, -14.372548593), align=None)
    extrude(amount=SLOT_COPPER_ENVELOPES_31_DEPTH)


with BuildPart() as body_32:
    # Эскиз1 → Slot_copper_envelopes 32 (new body)
    with BuildSketch(Plane.XY.offset(SLOT_COPPER_ENVELOPES_START)):
        Polygon((45.203503812, -13.148381252), (50.472549497, -14.805233151), (51.113126634, -12.414566731), (45.721573267, -11.214919723), align=None)
    extrude(amount=SLOT_COPPER_ENVELOPES_32_DEPTH)


solid = Compound([part.part, body_2.part, body_3.part, body_4.part, body_5.part, body_6.part, body_7.part, body_8.part, body_9.part, body_10.part, body_11.part, body_12.part, body_13.part, body_14.part, body_15.part, body_16.part, body_17.part, body_18.part, body_19.part, body_20.part, body_21.part, body_22.part, body_23.part, body_24.part, body_25.part, body_26.part, body_27.part, body_28.part, body_29.part, body_30.part, body_31.part, body_32.part])
